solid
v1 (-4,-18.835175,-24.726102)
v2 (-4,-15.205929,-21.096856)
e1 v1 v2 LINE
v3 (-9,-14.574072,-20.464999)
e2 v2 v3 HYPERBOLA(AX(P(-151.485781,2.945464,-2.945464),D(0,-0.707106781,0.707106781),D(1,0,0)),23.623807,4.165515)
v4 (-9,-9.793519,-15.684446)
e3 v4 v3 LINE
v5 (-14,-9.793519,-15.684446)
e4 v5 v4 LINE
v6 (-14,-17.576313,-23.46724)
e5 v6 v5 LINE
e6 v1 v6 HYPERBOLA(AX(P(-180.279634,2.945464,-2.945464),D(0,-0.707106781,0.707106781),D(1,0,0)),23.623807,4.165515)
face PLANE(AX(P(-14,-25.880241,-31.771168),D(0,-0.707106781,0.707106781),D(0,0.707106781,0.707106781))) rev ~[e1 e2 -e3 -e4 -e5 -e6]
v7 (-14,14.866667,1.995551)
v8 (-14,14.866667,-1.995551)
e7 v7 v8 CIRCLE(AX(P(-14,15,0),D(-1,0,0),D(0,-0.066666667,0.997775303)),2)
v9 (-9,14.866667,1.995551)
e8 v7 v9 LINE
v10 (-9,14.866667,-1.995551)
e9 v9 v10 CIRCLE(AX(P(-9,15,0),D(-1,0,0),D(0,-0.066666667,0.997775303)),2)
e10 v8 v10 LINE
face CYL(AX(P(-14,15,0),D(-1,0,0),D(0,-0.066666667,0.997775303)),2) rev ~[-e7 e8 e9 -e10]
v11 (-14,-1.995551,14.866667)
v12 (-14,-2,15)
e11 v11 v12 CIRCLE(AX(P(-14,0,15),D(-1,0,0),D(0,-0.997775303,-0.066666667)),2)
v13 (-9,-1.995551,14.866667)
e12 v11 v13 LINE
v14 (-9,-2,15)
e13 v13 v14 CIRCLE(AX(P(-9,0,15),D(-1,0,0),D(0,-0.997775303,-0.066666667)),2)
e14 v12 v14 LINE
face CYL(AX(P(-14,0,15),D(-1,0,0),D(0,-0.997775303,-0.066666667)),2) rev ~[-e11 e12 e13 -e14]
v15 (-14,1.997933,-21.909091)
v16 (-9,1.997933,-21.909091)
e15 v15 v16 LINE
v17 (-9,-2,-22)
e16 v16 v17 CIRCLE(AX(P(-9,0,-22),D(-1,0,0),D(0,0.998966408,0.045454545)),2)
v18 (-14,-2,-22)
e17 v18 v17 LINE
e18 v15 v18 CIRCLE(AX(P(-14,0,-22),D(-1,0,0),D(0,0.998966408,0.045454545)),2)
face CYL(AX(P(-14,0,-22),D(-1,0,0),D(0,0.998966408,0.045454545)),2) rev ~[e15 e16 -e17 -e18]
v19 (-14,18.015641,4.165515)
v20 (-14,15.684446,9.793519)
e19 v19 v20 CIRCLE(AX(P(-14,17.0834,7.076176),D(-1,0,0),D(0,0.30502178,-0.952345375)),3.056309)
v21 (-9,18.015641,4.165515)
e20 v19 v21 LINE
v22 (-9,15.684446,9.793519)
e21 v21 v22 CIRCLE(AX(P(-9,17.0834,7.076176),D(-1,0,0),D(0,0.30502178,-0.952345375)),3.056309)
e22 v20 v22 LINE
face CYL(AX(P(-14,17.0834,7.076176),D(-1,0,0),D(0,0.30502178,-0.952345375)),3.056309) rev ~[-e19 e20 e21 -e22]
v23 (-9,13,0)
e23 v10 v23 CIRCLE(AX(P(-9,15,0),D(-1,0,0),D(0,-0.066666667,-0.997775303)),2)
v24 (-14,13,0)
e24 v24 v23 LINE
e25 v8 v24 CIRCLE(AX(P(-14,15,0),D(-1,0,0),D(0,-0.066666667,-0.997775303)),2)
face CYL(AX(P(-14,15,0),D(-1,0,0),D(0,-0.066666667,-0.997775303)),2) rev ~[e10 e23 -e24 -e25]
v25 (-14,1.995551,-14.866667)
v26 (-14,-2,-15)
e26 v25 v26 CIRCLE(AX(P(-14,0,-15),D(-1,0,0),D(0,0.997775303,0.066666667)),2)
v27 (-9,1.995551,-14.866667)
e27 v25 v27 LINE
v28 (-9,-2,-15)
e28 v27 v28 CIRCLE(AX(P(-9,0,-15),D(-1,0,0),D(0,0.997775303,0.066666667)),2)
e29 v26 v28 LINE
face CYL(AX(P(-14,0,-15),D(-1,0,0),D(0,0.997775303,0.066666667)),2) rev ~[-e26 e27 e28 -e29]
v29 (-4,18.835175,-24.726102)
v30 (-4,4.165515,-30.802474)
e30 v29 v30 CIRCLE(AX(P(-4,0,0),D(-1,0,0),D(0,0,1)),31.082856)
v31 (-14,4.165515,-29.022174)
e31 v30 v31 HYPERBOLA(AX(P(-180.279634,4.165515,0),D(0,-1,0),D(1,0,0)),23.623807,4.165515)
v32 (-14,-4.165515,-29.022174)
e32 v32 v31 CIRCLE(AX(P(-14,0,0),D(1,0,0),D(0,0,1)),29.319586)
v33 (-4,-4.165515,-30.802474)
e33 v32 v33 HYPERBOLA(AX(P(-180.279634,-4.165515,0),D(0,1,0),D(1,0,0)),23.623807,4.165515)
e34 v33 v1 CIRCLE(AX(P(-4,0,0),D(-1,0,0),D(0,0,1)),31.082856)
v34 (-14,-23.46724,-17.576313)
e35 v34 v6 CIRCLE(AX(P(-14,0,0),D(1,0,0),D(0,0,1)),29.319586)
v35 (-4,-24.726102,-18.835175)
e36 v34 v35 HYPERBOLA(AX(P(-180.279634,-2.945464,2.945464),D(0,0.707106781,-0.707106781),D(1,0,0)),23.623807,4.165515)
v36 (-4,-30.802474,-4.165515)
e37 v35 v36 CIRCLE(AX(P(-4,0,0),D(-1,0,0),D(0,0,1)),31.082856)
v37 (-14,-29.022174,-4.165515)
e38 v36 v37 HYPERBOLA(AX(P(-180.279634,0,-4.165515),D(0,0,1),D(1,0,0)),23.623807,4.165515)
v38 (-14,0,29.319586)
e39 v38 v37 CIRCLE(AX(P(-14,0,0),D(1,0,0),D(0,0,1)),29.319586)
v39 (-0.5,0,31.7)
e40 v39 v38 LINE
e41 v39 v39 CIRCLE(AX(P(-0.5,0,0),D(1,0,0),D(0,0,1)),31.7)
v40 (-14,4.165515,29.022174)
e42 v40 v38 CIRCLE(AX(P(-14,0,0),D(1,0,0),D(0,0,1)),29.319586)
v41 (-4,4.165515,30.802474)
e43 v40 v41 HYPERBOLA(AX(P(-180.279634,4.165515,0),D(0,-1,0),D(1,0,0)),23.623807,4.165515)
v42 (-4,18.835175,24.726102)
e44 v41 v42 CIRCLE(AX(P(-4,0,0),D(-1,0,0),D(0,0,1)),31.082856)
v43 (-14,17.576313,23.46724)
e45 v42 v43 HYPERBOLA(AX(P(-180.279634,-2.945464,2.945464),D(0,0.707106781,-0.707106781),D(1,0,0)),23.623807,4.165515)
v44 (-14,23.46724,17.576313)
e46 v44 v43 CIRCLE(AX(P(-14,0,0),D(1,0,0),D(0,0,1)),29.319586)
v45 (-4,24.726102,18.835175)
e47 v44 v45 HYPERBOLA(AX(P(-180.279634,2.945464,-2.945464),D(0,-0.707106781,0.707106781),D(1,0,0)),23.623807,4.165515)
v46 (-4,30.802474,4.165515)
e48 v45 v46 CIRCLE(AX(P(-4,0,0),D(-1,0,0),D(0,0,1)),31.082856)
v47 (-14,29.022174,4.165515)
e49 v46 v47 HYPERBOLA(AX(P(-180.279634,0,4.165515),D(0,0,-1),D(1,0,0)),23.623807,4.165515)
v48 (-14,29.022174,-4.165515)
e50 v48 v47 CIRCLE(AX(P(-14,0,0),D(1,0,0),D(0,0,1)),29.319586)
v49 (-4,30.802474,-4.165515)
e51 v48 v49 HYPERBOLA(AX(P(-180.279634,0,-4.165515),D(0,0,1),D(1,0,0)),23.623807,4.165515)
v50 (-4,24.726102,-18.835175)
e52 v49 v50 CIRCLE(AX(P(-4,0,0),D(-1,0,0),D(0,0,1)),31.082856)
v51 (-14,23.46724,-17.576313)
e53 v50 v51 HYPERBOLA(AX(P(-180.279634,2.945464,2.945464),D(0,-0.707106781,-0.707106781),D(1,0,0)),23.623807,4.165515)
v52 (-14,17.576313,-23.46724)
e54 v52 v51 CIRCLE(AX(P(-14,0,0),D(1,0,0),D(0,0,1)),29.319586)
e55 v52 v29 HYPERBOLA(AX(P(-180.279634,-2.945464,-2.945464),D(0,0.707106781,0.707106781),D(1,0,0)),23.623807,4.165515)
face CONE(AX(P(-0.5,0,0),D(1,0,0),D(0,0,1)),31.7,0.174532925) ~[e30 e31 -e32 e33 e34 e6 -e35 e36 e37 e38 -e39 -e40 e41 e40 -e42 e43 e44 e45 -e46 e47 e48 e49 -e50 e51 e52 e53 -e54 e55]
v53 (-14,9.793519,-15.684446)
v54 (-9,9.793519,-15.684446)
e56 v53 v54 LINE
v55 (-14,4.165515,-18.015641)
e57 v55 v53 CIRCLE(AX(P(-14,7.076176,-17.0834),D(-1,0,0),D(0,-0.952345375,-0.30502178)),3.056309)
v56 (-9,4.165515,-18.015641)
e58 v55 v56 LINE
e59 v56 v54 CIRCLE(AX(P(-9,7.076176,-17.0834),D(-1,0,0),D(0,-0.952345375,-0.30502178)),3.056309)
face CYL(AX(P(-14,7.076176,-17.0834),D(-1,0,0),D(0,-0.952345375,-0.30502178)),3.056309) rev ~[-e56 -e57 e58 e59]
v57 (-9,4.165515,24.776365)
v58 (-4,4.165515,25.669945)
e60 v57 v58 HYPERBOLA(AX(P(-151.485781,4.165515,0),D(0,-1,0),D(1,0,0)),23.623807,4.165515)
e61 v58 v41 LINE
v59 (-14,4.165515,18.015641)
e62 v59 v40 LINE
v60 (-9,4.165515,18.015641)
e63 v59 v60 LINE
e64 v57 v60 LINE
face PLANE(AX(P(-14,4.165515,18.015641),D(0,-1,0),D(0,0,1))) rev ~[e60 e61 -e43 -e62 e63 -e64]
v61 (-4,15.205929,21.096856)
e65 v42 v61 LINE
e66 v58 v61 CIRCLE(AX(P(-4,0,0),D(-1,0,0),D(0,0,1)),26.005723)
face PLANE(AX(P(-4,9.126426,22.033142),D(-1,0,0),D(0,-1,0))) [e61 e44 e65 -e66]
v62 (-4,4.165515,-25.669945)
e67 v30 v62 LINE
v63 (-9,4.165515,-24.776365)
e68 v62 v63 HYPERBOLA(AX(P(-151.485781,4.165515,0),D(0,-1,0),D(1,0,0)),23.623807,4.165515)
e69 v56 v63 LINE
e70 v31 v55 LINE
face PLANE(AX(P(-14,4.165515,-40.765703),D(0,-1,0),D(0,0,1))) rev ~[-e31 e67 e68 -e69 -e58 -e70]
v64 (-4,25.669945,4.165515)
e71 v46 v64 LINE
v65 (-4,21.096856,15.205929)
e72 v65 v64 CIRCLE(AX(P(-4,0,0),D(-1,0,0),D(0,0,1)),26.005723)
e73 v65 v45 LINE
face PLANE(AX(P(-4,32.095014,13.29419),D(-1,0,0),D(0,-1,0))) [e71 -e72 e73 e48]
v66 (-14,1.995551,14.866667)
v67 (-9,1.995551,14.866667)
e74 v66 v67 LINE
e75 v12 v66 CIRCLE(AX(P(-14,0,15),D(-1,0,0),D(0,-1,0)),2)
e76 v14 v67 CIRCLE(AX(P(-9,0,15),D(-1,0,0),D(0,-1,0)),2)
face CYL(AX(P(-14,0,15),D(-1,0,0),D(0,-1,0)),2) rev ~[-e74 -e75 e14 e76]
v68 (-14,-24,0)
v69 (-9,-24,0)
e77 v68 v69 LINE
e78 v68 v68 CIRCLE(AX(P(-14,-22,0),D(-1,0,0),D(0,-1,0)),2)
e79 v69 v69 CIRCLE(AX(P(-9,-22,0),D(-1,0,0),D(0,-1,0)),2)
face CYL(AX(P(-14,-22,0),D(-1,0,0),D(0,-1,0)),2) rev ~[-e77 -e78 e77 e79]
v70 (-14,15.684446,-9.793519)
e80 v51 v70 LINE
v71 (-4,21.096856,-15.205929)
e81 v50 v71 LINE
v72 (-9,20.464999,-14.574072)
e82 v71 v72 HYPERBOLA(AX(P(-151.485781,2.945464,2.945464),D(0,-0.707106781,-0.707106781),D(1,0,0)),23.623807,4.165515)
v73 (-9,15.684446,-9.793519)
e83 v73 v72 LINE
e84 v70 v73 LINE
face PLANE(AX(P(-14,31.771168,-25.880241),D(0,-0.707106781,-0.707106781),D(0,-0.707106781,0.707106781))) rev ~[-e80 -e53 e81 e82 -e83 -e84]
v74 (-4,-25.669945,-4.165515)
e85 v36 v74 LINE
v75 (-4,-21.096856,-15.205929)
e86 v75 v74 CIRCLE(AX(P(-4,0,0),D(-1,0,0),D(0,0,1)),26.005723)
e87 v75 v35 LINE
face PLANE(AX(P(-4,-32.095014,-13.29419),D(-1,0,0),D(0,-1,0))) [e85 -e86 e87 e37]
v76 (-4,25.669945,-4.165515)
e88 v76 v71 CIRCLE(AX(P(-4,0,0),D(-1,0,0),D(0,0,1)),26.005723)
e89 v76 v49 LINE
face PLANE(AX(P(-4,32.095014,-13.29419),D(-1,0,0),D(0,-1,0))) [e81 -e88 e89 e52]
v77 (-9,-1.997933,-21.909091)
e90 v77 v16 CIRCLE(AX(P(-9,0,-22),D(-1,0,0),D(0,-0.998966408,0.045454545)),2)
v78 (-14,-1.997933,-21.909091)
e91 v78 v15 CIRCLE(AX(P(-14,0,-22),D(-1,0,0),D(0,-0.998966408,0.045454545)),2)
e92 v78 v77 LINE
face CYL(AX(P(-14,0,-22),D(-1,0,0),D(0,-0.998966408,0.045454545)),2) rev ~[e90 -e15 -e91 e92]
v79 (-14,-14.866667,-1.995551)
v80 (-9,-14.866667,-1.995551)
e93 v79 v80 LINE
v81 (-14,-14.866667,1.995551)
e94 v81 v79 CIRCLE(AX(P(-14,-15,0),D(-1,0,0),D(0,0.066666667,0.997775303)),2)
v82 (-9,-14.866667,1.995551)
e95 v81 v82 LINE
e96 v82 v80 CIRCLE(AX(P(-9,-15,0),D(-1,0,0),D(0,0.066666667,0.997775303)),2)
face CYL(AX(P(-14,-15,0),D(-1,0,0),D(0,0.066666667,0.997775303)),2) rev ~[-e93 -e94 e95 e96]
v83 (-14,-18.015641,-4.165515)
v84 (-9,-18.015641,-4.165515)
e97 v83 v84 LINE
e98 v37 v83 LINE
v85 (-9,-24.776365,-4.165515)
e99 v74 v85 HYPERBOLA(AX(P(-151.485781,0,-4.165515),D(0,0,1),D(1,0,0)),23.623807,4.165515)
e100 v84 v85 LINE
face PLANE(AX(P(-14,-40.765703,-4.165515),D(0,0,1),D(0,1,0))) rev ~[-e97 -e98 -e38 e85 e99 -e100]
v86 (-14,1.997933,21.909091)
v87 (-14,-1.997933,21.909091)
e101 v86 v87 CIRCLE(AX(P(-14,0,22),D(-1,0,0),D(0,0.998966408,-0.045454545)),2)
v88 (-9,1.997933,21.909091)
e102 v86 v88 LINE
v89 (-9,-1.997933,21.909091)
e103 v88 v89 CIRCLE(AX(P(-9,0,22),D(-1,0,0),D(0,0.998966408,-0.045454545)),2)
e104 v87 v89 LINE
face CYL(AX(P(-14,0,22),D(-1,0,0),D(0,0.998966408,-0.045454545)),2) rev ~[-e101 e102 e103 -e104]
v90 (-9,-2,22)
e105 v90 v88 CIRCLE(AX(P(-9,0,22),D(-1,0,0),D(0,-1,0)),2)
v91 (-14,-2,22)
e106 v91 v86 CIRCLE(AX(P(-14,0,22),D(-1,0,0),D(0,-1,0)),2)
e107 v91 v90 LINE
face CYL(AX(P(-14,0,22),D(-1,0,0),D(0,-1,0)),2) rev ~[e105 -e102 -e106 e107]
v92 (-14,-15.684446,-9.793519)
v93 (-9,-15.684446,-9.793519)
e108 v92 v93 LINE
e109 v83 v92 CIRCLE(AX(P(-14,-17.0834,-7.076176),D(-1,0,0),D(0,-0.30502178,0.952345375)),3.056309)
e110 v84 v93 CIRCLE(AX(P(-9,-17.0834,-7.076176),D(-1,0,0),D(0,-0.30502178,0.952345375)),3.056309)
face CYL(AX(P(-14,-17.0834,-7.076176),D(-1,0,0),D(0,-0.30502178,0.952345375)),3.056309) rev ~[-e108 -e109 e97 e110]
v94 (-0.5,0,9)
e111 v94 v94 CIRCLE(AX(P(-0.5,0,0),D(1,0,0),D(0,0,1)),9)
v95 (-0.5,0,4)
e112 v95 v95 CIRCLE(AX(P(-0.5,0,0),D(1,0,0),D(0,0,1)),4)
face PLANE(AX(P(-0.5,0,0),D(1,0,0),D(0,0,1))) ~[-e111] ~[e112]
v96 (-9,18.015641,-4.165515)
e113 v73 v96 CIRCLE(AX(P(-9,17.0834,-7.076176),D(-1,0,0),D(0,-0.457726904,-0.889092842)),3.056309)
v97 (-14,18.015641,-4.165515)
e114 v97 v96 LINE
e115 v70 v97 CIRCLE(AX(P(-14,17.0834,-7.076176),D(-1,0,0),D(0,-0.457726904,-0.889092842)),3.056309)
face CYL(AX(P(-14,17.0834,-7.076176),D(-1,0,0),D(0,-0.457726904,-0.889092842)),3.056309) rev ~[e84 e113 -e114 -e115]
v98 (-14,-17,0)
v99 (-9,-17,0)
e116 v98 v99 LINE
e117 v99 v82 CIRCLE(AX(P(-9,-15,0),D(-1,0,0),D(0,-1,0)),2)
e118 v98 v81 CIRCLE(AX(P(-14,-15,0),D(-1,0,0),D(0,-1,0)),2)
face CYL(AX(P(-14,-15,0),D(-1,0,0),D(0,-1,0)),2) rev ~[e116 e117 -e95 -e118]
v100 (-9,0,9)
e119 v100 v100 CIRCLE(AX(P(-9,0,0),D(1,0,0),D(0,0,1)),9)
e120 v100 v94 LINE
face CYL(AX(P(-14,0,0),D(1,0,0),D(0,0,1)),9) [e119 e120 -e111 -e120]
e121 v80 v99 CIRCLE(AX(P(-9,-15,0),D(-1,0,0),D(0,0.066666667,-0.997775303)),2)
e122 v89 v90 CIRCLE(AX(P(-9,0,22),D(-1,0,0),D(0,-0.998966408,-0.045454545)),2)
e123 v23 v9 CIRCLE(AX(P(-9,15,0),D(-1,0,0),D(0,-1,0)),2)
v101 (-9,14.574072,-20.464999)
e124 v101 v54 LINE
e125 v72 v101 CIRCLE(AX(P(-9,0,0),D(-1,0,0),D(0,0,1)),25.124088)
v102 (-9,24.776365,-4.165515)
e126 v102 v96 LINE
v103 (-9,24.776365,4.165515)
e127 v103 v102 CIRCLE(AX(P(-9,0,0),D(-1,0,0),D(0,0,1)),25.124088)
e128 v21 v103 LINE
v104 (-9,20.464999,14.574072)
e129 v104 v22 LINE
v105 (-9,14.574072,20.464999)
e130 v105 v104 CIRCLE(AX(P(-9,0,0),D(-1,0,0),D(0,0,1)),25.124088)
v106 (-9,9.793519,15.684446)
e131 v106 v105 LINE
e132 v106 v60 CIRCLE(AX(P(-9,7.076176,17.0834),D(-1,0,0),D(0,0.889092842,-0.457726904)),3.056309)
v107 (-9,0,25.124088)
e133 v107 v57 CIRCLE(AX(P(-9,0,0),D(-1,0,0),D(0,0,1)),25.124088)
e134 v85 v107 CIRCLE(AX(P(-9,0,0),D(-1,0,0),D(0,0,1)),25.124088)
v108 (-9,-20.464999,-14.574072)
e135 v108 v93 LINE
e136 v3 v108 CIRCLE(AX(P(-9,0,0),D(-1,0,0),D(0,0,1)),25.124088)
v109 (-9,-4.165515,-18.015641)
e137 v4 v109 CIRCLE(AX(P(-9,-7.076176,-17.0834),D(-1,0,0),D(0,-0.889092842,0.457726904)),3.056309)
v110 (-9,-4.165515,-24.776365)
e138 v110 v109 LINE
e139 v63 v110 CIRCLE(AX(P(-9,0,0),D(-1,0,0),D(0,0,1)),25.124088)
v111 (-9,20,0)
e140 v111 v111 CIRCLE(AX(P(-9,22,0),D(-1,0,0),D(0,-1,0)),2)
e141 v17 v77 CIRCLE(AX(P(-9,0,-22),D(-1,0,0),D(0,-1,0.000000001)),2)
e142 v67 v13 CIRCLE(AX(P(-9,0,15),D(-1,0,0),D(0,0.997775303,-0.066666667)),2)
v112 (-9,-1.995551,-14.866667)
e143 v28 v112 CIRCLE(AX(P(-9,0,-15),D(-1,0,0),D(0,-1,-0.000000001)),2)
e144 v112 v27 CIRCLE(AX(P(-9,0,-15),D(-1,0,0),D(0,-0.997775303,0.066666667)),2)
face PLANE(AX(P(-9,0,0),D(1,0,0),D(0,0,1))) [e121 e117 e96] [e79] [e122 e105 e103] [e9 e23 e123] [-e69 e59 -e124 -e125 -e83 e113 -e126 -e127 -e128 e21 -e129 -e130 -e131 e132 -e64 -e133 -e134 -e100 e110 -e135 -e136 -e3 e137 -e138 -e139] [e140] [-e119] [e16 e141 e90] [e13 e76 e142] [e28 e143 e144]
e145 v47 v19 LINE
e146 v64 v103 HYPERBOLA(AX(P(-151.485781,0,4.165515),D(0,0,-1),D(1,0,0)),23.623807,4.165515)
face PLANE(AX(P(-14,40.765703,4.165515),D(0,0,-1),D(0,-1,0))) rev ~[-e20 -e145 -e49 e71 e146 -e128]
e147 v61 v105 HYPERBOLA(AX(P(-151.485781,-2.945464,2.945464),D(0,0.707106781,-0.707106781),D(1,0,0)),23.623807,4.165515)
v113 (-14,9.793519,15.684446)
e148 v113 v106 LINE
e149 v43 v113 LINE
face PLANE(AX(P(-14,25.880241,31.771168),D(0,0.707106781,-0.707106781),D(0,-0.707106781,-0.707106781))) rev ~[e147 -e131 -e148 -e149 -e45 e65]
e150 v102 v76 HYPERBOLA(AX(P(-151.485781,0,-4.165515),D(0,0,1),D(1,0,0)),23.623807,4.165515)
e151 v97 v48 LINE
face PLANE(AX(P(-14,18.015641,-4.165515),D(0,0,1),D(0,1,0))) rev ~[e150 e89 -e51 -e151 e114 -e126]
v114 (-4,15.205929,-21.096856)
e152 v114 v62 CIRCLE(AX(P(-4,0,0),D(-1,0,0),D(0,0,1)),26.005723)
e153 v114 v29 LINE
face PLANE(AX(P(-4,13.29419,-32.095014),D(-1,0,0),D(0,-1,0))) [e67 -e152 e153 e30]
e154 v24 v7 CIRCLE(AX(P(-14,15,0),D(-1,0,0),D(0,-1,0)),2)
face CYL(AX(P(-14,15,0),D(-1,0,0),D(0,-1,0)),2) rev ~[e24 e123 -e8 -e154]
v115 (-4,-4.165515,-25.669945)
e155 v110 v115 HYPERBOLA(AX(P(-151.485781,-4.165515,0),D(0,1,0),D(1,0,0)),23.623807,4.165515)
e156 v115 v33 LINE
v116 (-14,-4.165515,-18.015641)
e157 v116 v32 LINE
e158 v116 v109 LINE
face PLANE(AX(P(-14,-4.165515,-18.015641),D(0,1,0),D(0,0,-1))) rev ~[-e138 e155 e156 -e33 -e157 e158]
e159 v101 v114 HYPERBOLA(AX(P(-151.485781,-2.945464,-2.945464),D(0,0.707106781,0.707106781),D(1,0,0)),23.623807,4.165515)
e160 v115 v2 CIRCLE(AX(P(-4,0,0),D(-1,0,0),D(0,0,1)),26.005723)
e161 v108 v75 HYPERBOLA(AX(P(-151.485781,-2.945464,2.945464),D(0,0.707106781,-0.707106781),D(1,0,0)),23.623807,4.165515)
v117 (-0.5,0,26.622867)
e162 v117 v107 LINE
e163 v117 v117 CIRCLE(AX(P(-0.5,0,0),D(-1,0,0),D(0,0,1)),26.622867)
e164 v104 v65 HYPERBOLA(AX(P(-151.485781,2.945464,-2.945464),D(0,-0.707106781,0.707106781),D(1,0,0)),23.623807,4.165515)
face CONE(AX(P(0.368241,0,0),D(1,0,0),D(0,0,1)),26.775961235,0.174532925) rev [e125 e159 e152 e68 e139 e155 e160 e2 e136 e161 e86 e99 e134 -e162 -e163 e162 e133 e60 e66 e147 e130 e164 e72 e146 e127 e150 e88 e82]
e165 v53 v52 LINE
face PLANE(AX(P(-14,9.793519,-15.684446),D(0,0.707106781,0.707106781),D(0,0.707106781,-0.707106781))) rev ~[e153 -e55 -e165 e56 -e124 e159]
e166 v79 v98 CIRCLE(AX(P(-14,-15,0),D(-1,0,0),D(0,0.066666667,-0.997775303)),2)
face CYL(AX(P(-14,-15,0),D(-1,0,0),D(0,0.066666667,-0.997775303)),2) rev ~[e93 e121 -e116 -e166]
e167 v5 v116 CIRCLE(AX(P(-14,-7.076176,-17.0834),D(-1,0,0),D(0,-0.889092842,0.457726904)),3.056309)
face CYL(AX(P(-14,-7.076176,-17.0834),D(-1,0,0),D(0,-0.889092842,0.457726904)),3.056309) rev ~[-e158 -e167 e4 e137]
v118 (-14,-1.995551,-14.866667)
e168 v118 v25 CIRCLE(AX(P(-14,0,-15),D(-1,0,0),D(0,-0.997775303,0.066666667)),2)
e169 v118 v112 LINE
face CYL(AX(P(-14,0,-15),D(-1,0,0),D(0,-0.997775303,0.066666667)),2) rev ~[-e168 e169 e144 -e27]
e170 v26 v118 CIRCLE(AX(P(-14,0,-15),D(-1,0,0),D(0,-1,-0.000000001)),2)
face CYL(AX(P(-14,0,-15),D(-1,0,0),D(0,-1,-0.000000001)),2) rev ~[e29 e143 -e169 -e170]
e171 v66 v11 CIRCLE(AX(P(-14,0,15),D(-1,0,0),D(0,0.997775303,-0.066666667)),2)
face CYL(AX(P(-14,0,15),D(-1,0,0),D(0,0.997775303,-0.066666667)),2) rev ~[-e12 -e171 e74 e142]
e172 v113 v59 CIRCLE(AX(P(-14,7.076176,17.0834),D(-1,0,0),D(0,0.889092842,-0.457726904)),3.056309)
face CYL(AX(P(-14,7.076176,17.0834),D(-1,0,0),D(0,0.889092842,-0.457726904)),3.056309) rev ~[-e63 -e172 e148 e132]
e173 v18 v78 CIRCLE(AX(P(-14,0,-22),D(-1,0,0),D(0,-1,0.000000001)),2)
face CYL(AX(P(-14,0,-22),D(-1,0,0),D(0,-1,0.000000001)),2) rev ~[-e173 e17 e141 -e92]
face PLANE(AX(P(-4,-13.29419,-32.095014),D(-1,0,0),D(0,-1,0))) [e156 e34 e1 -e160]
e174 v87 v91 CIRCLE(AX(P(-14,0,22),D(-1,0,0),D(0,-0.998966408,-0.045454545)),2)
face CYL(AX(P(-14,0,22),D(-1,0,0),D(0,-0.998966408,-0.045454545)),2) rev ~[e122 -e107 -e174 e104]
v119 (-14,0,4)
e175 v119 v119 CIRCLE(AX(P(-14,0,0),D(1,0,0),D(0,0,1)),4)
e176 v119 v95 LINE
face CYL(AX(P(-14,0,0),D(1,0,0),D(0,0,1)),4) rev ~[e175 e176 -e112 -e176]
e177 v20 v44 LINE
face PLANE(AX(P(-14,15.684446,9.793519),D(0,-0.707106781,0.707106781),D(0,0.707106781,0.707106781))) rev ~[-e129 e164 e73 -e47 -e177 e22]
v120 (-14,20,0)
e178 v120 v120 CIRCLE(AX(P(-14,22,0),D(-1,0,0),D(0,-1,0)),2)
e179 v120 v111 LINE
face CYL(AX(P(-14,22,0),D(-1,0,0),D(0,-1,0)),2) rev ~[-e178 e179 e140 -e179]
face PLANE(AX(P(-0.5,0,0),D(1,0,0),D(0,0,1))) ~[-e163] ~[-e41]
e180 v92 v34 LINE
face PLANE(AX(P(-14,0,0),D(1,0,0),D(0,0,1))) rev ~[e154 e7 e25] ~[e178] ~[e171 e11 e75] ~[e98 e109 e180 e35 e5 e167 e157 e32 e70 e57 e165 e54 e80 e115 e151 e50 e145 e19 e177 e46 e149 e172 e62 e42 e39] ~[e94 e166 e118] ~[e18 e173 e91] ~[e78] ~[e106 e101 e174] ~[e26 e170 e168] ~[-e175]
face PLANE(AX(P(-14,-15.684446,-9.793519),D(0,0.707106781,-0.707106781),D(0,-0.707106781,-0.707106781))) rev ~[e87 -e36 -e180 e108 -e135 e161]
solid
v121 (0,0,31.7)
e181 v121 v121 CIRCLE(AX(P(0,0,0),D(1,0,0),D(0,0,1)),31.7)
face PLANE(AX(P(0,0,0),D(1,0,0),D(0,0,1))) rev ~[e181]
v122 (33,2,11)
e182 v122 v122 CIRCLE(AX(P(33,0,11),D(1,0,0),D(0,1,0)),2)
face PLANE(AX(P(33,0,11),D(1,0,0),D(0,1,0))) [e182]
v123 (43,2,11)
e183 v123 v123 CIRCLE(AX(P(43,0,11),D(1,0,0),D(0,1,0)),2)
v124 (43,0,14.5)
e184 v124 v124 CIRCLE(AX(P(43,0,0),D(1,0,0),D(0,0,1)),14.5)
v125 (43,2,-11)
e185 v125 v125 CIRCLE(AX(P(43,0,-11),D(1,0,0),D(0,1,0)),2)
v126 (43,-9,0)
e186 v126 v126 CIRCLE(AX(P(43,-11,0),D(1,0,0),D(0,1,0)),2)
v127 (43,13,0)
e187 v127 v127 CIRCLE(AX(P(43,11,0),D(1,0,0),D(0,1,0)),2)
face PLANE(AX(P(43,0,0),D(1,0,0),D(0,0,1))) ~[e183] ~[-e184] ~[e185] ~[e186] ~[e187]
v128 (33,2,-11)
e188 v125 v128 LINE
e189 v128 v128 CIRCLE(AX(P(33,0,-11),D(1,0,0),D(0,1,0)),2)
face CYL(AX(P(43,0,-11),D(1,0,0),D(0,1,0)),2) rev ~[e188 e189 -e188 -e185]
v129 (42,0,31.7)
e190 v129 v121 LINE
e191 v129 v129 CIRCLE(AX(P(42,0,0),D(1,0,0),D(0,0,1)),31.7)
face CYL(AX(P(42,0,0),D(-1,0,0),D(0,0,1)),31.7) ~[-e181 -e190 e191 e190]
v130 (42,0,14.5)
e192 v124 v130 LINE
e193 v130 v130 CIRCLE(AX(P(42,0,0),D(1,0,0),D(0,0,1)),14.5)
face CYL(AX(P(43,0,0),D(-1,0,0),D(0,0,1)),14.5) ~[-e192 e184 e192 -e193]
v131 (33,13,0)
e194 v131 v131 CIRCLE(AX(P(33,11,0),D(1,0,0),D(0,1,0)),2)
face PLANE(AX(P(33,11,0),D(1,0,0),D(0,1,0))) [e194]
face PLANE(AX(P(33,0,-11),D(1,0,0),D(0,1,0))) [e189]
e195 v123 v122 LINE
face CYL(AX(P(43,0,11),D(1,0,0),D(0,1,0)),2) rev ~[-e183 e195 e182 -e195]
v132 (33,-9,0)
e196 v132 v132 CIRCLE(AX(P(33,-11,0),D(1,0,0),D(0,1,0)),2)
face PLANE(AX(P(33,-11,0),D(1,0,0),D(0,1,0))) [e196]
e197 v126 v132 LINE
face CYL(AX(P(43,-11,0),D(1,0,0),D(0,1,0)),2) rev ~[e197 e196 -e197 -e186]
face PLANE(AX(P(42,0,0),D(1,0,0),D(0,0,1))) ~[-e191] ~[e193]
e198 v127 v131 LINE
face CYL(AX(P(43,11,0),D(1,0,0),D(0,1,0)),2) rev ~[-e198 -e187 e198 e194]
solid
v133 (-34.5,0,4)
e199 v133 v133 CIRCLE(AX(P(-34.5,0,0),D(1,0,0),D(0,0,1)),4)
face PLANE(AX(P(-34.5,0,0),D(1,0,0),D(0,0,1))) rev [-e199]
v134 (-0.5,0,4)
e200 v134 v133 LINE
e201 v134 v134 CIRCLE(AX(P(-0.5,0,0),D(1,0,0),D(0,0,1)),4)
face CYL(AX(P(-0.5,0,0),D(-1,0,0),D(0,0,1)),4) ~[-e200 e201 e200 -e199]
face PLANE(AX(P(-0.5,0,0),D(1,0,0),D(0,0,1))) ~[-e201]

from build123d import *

# Parameters (mm, degrees)
F0_W     = 43
F0_H     = 4
F0_W_2   = 20.5
F0_W_3   = 13.5
F3_R     = 2
F4_DEPTH = 10
F6_T     = -5
F7_DEPTH = 10
F9_DEPTH = 10


with BuildPart() as f1:
    # F0 (on Front) → F1 (revolve)
    with BuildSketch(Plane.XZ):
        Polygon((-14, 4), (-0.5, 4), (-0.5, 31.7), (-14, 29.3195857604), align=None)
    revolve(axis=Axis((4.25, 0, 0), (1, 0, 0)))

    # F6
    f6_openings = [f1.faces().sort_by_distance(p)[0] for p in [
        (-0.5, 0, -4.896611),
    ]]
    offset(amount=F6_T, openings=f6_openings)

    # F5 (on face) → F7 (cut)
    with BuildSketch(Plane(origin=(-14, 0, 0), x_dir=(0, -1, 0), z_dir=(-1, 0, 0))):
        with BuildLine():
            ThreePointArc((-21.9090909091, -1.997932816), (-22, 0), (-21.9090909091, 1.997932816))
            ThreePointArc((-21.9090909091, 1.997932816), (-24, 0), (-21.9090909091, -1.997932816))
        make_face()
        with BuildLine():
            ThreePointArc((-20, 0), (-20.554002389, 1.3816985594), (-21.9090909091, 1.997932816))
            ThreePointArc((-21.9090909091, 1.997932816), (-22, 0), (-21.9090909091, -1.997932816))
            ThreePointArc((-21.9090909091, -1.997932816), (-20.554002389, -1.3816985594), (-20, 0))
        make_face()
        with BuildLine():
            ThreePointArc((-13, 0), (-13.5394065133, 1.3662601021), (-14.8666666667, 1.9955506063))
            ThreePointArc((-14.8666666667, 1.9955506063), (-15, 0), (-14.8666666667, -1.9955506063))
            ThreePointArc((-14.8666666667, -1.9955506063), (-13.5394065133, -1.3662601021), (-13, 0))
        make_face()
        with BuildLine():
            ThreePointArc((-14.8666666667, -1.9955506063), (-15, 0), (-14.8666666667, 1.9955506063))
            ThreePointArc((-14.8666666667, 1.9955506063), (-17, 0), (-14.8666666667, -1.9955506063))
        make_face()
        with BuildLine():
            ThreePointArc((-1.997932816, 21.9090909091), (0, 20), (1.997932816, 21.9090909091))
            ThreePointArc((1.997932816, 21.9090909091), (0, 22), (-1.997932816, 21.9090909091))
        make_face()
        with BuildLine():
            ThreePointArc((-1.997932816, 21.9090909091), (0, 22), (1.997932816, 21.9090909091))
            ThreePointArc((1.997932816, 21.9090909091), (1.9994831372, 21.9545337046), (2, 22))
            ThreePointArc((2, 22), (-0.0454662954, 23.9994831372), (-1.997932816, 21.9090909091))
        make_face()
        with BuildLine():
            ThreePointArc((-1.9955506063, 14.8666666667), (0, 15), (1.9955506063, 14.8666666667))
            ThreePointArc((1.9955506063, 14.8666666667), (1.9988873421, 14.9332962241), (2, 15))
            ThreePointArc((2, 15), (-0.0667037759, 16.9988873421), (-1.9955506063, 14.8666666667))
        make_face()
        with BuildLine():
            ThreePointArc((-1.9955506063, 14.8666666667), (0, 13), (1.9955506063, 14.8666666667))
            ThreePointArc((1.9955506063, 14.8666666667), (0, 15), (-1.9955506063, 14.8666666667))
        make_face()
        with BuildLine():
            ThreePointArc((14.8666666667, -1.9955506063), (14.9666295471, -1), (15, 0))
            ThreePointArc((15, 0), (14.9666295471, 1), (14.8666666667, 1.9955506063))
            ThreePointArc((14.8666666667, 1.9955506063), (13, 0), (14.8666666667, -1.9955506063))
        make_face()
        with BuildLine():
            ThreePointArc((14.8666666667, 1.9955506063), (14.9666295471, 1), (15, 0))
            ThreePointArc((15, 0), (14.9666295471, -1), (14.8666666667, -1.9955506063))
            ThreePointArc((14.8666666667, -1.9955506063), (16.3662601021, -1.4605934867), (17, 0))
            ThreePointArc((17, 0), (16.3662601021, 1.4605934867), (14.8666666667, 1.9955506063))
        make_face()
        with BuildLine():
            ThreePointArc((21.9090909091, -1.997932816), (21.9772609758, -1), (22, 0))
            ThreePointArc((22, 0), (21.9772609758, 1), (21.9090909091, 1.997932816))
            ThreePointArc((21.9090909091, 1.997932816), (20, 0), (21.9090909091, -1.997932816))
        make_face()
        with BuildLine():
            ThreePointArc((21.9090909091, 1.997932816), (21.9772609758, 1), (22, 0))
            ThreePointArc((22, 0), (21.9772609758, -1), (21.9090909091, -1.997932816))
            ThreePointArc((21.9090909091, -1.997932816), (23.3816985594, -1.445997611), (24, 0))
            ThreePointArc((24, 0), (23.3816985594, 1.445997611), (21.9090909091, 1.997932816))
        make_face()
        with BuildLine():
            ThreePointArc((-1.997932816, -21.9090909091), (0, -22), (1.997932816, -21.9090909091))
            ThreePointArc((1.997932816, -21.9090909091), (0, -20), (-1.997932816, -21.9090909091))
        make_face()
        with BuildLine():
            ThreePointArc((2, -15), (1.9988873421, -14.9332962241), (1.9955506063, -14.8666666667))
            ThreePointArc((1.9955506063, -14.8666666667), (0, -15), (-1.9955506063, -14.8666666667))
            ThreePointArc((-1.9955506063, -14.8666666667), (-0.0667037759, -16.9988873421), (2, -15))
        make_face()
        with BuildLine():
            ThreePointArc((-1.9955506063, -14.8666666667), (0, -15), (1.9955506063, -14.8666666667))
            ThreePointArc((1.9955506063, -14.8666666667), (0, -13), (-1.9955506063, -14.8666666667))
        make_face()
        with BuildLine():
            ThreePointArc((2, -22), (1.9994831372, -21.9545337046), (1.997932816, -21.9090909091))
            ThreePointArc((1.997932816, -21.9090909091), (0, -22), (-1.997932816, -21.9090909091))
            ThreePointArc((-1.997932816, -21.9090909091), (-0.0454662954, -23.9994831372), (2, -22))
        make_face()
    extrude(amount=-F7_DEPTH, mode=Mode.SUBTRACT)

    # F8 (on face) → F9 (cut)
    with BuildSketch(Plane(origin=(-14, 0, 0), x_dir=(0, -1, 0), z_dir=(-1, 0, 0))):
        with BuildLine():
            Line((-17.5763126131, 23.4672398055), (-9.7935185074, 15.6844456998))
            ThreePointArc((-9.7935185074, 15.6844456998), (-5.9065774098, 14.25973929), (-4.1655145652, 18.0156412618))
            Line((-4.1655145652, 18.0156412618), (-4.1655145652, 29.0221742392))
            ThreePointArc((-4.1655145652, 29.0221742392), (-11.2201197143, 27.0877651858), (-17.5763126131, 23.4672398055))
        make_face()
        with BuildLine():
            Line((-25.8802412401, 31.7711684325), (-17.5763126131, 23.4672398055))
            ThreePointArc((-17.5763126131, 23.4672398055), (-11.2201197143, 27.0877651858), (-4.1655145652, 29.0221742392))
            Line((-4.1655145652, 29.0221742392), (-4.1655145652, 40.7657027245))
            Line((-4.1655145652, 40.7657027245), (-15.0228779027, 36.2684355785))
            Line((-15.0228779027, 36.2684355785), (-25.8802412401, 31.7711684325))
        make_face()
        with BuildLine():
            ThreePointArc((-29.0221742392, 4.1655145652), (-27.0877651858, 11.2201197143), (-23.4672398055, 17.5763126131))
            Line((-23.4672398055, 17.5763126131), (-31.7711684325, 25.8802412401))
            Line((-31.7711684325, 25.8802412401), (-36.2684355785, 15.0228779027))
            Line((-36.2684355785, 15.0228779027), (-40.7657027245, 4.1655145652))
            Line((-40.7657027245, 4.1655145652), (-29.0221742392, 4.1655145652))
        make_face()
        with BuildLine():
            Line((-15.6844456998, 9.7935185074), (-23.4672398055, 17.5763126131))
            ThreePointArc((-23.4672398055, 17.5763126131), (-27.0877651858, 11.2201197143), (-29.0221742392, 4.1655145652))
            Line((-29.0221742392, 4.1655145652), (-18.0156412618, 4.1655145652))
            ThreePointArc((-18.0156412618, 4.1655145652), (-14.25973929, 5.9065774098), (-15.6844456998, 9.7935185074))
        make_face()
        with BuildLine():
            ThreePointArc((-23.4672398055, -17.5763126131), (-27.0877651858, -11.2201197143), (-29.0221742392, -4.1655145652))
            Line((-29.0221742392, -4.1655145652), (-40.7657027245, -4.1655145652))
            Line((-40.7657027245, -4.1655145652), (-36.2684355785, -15.0228779027))
            Line((-36.2684355785, -15.0228779027), (-31.7711684325, -25.8802412401))
            Line((-31.7711684325, -25.8802412401), (-23.4672398055, -17.5763126131))
        make_face()
        with BuildLine():
            Line((-18.0156412618, -4.1655145652), (-29.0221742392, -4.1655145652))
            ThreePointArc((-29.0221742392, -4.1655145652), (-27.0877651858, -11.2201197143), (-23.4672398055, -17.5763126131))
            Line((-23.4672398055, -17.5763126131), (-15.6844456998, -9.7935185074))
            ThreePointArc((-15.6844456998, -9.7935185074), (-14.25973929, -5.9065774098), (-18.0156412618, -4.1655145652))
        make_face()
        with BuildLine():
            ThreePointArc((-4.1655145652, -29.0221742392), (-11.2201197143, -27.0877651858), (-17.5763126131, -23.4672398055))
            Line((-17.5763126131, -23.4672398055), (-25.8802412401, -31.7711684325))
            Line((-25.8802412401, -31.7711684325), (-15.0228779027, -36.2684355785))
            Line((-15.0228779027, -36.2684355785), (-4.1655145652, -40.7657027245))
            Line((-4.1655145652, -40.7657027245), (-4.1655145652, -29.0221742392))
        make_face()
        with BuildLine():
            Line((-9.7935185074, -15.6844456998), (-17.5763126131, -23.4672398055))
            ThreePointArc((-17.5763126131, -23.4672398055), (-11.2201197143, -27.0877651858), (-4.1655145652, -29.0221742392))
            Line((-4.1655145652, -29.0221742392), (-4.1655145652, -18.0156412618))
            ThreePointArc((-4.1655145652, -18.0156412618), (-5.9065774098, -14.25973929), (-9.7935185074, -15.6844456998))
        make_face()
        with BuildLine():
            ThreePointArc((17.5763126131, -23.4672398055), (11.2201197143, -27.0877651858), (4.1655145652, -29.0221742392))
            Line((4.1655145652, -29.0221742392), (4.1655145652, -40.7657027245))
            Line((4.1655145652, -40.7657027245), (15.0228779027, -36.2684355785))
            Line((15.0228779027, -36.2684355785), (25.8802412401, -31.7711684325))
            Line((25.8802412401, -31.7711684325), (17.5763126131, -23.4672398055))
        make_face()
        with BuildLine():
            Line((4.1655145652, -18.0156412618), (4.1655145652, -29.0221742392))
            ThreePointArc((4.1655145652, -29.0221742392), (11.2201197143, -27.0877651858), (17.5763126131, -23.4672398055))
            Line((17.5763126131, -23.4672398055), (9.7935185074, -15.6844456998))
            ThreePointArc((9.7935185074, -15.6844456998), (5.9065774098, -14.25973929), (4.1655145652, -18.0156412618))
        make_face()
        with BuildLine():
            Line((40.7657027245, -4.1655145652), (29.0221742392, -4.1655145652))
            ThreePointArc((29.0221742392, -4.1655145652), (27.0877651858, -11.2201197143), (23.4672398055, -17.5763126131))
            Line((23.4672398055, -17.5763126131), (31.7711684325, -25.8802412401))
            Line((31.7711684325, -25.8802412401), (36.2684355785, -15.0228779027))
            Line((36.2684355785, -15.0228779027), (40.7657027245, -4.1655145652))
        make_face()
        with BuildLine():
            ThreePointArc((23.4672398055, -17.5763126131), (27.0877651858, -11.2201197143), (29.0221742392, -4.1655145652))
            Line((29.0221742392, -4.1655145652), (18.0156412618, -4.1655145652))
            ThreePointArc((18.0156412618, -4.1655145652), (14.25973929, -5.9065774098), (15.6844456998, -9.7935185074))
            Line((15.6844456998, -9.7935185074), (23.4672398055, -17.5763126131))
        make_face()
    extrude(amount=-F9_DEPTH, mode=Mode.SUBTRACT)


with BuildPart() as f2:
    # F0 (on Front) → F2 (revolve)
    with BuildSketch(Plane.XZ):
        Polygon((0, 31.7), (0, 4), (43, 4), (43, 14.5), (42, 14.5), (42, 31.7), align=None)
        with Locations((21.5, 2)):
            Rectangle(F0_W, F0_H)
    revolve(axis=Axis((4.25, 0, 0), (1, 0, 0)))

    # F3 (on face) → F4 (cut)
    with BuildSketch(Plane.YZ.offset(43)):
        with Locations((0, 11)):
            Circle(F3_R)
        with Locations((-11, 0)):
            Circle(F3_R)
        with Locations((0, -11)):
            Circle(F3_R)
        with Locations((11, 0)):
            Circle(F3_R)
    extrude(amount=-F4_DEPTH, mode=Mode.SUBTRACT)


with BuildPart() as f2b:
    # F0 (on Front) → F2, piece 2 (revolve)
    with BuildSketch(Plane.XZ):
        with Locations((-24.25, 2)):
            Rectangle(F0_W_2, F0_H)
        with Locations((-7.25, 2)):
            Rectangle(F0_W_3, F0_H)
    revolve(axis=Axis((4.25, 0, 0), (1, 0, 0)))


solid = Compound([f1.part, f2.part, f2b.part])
